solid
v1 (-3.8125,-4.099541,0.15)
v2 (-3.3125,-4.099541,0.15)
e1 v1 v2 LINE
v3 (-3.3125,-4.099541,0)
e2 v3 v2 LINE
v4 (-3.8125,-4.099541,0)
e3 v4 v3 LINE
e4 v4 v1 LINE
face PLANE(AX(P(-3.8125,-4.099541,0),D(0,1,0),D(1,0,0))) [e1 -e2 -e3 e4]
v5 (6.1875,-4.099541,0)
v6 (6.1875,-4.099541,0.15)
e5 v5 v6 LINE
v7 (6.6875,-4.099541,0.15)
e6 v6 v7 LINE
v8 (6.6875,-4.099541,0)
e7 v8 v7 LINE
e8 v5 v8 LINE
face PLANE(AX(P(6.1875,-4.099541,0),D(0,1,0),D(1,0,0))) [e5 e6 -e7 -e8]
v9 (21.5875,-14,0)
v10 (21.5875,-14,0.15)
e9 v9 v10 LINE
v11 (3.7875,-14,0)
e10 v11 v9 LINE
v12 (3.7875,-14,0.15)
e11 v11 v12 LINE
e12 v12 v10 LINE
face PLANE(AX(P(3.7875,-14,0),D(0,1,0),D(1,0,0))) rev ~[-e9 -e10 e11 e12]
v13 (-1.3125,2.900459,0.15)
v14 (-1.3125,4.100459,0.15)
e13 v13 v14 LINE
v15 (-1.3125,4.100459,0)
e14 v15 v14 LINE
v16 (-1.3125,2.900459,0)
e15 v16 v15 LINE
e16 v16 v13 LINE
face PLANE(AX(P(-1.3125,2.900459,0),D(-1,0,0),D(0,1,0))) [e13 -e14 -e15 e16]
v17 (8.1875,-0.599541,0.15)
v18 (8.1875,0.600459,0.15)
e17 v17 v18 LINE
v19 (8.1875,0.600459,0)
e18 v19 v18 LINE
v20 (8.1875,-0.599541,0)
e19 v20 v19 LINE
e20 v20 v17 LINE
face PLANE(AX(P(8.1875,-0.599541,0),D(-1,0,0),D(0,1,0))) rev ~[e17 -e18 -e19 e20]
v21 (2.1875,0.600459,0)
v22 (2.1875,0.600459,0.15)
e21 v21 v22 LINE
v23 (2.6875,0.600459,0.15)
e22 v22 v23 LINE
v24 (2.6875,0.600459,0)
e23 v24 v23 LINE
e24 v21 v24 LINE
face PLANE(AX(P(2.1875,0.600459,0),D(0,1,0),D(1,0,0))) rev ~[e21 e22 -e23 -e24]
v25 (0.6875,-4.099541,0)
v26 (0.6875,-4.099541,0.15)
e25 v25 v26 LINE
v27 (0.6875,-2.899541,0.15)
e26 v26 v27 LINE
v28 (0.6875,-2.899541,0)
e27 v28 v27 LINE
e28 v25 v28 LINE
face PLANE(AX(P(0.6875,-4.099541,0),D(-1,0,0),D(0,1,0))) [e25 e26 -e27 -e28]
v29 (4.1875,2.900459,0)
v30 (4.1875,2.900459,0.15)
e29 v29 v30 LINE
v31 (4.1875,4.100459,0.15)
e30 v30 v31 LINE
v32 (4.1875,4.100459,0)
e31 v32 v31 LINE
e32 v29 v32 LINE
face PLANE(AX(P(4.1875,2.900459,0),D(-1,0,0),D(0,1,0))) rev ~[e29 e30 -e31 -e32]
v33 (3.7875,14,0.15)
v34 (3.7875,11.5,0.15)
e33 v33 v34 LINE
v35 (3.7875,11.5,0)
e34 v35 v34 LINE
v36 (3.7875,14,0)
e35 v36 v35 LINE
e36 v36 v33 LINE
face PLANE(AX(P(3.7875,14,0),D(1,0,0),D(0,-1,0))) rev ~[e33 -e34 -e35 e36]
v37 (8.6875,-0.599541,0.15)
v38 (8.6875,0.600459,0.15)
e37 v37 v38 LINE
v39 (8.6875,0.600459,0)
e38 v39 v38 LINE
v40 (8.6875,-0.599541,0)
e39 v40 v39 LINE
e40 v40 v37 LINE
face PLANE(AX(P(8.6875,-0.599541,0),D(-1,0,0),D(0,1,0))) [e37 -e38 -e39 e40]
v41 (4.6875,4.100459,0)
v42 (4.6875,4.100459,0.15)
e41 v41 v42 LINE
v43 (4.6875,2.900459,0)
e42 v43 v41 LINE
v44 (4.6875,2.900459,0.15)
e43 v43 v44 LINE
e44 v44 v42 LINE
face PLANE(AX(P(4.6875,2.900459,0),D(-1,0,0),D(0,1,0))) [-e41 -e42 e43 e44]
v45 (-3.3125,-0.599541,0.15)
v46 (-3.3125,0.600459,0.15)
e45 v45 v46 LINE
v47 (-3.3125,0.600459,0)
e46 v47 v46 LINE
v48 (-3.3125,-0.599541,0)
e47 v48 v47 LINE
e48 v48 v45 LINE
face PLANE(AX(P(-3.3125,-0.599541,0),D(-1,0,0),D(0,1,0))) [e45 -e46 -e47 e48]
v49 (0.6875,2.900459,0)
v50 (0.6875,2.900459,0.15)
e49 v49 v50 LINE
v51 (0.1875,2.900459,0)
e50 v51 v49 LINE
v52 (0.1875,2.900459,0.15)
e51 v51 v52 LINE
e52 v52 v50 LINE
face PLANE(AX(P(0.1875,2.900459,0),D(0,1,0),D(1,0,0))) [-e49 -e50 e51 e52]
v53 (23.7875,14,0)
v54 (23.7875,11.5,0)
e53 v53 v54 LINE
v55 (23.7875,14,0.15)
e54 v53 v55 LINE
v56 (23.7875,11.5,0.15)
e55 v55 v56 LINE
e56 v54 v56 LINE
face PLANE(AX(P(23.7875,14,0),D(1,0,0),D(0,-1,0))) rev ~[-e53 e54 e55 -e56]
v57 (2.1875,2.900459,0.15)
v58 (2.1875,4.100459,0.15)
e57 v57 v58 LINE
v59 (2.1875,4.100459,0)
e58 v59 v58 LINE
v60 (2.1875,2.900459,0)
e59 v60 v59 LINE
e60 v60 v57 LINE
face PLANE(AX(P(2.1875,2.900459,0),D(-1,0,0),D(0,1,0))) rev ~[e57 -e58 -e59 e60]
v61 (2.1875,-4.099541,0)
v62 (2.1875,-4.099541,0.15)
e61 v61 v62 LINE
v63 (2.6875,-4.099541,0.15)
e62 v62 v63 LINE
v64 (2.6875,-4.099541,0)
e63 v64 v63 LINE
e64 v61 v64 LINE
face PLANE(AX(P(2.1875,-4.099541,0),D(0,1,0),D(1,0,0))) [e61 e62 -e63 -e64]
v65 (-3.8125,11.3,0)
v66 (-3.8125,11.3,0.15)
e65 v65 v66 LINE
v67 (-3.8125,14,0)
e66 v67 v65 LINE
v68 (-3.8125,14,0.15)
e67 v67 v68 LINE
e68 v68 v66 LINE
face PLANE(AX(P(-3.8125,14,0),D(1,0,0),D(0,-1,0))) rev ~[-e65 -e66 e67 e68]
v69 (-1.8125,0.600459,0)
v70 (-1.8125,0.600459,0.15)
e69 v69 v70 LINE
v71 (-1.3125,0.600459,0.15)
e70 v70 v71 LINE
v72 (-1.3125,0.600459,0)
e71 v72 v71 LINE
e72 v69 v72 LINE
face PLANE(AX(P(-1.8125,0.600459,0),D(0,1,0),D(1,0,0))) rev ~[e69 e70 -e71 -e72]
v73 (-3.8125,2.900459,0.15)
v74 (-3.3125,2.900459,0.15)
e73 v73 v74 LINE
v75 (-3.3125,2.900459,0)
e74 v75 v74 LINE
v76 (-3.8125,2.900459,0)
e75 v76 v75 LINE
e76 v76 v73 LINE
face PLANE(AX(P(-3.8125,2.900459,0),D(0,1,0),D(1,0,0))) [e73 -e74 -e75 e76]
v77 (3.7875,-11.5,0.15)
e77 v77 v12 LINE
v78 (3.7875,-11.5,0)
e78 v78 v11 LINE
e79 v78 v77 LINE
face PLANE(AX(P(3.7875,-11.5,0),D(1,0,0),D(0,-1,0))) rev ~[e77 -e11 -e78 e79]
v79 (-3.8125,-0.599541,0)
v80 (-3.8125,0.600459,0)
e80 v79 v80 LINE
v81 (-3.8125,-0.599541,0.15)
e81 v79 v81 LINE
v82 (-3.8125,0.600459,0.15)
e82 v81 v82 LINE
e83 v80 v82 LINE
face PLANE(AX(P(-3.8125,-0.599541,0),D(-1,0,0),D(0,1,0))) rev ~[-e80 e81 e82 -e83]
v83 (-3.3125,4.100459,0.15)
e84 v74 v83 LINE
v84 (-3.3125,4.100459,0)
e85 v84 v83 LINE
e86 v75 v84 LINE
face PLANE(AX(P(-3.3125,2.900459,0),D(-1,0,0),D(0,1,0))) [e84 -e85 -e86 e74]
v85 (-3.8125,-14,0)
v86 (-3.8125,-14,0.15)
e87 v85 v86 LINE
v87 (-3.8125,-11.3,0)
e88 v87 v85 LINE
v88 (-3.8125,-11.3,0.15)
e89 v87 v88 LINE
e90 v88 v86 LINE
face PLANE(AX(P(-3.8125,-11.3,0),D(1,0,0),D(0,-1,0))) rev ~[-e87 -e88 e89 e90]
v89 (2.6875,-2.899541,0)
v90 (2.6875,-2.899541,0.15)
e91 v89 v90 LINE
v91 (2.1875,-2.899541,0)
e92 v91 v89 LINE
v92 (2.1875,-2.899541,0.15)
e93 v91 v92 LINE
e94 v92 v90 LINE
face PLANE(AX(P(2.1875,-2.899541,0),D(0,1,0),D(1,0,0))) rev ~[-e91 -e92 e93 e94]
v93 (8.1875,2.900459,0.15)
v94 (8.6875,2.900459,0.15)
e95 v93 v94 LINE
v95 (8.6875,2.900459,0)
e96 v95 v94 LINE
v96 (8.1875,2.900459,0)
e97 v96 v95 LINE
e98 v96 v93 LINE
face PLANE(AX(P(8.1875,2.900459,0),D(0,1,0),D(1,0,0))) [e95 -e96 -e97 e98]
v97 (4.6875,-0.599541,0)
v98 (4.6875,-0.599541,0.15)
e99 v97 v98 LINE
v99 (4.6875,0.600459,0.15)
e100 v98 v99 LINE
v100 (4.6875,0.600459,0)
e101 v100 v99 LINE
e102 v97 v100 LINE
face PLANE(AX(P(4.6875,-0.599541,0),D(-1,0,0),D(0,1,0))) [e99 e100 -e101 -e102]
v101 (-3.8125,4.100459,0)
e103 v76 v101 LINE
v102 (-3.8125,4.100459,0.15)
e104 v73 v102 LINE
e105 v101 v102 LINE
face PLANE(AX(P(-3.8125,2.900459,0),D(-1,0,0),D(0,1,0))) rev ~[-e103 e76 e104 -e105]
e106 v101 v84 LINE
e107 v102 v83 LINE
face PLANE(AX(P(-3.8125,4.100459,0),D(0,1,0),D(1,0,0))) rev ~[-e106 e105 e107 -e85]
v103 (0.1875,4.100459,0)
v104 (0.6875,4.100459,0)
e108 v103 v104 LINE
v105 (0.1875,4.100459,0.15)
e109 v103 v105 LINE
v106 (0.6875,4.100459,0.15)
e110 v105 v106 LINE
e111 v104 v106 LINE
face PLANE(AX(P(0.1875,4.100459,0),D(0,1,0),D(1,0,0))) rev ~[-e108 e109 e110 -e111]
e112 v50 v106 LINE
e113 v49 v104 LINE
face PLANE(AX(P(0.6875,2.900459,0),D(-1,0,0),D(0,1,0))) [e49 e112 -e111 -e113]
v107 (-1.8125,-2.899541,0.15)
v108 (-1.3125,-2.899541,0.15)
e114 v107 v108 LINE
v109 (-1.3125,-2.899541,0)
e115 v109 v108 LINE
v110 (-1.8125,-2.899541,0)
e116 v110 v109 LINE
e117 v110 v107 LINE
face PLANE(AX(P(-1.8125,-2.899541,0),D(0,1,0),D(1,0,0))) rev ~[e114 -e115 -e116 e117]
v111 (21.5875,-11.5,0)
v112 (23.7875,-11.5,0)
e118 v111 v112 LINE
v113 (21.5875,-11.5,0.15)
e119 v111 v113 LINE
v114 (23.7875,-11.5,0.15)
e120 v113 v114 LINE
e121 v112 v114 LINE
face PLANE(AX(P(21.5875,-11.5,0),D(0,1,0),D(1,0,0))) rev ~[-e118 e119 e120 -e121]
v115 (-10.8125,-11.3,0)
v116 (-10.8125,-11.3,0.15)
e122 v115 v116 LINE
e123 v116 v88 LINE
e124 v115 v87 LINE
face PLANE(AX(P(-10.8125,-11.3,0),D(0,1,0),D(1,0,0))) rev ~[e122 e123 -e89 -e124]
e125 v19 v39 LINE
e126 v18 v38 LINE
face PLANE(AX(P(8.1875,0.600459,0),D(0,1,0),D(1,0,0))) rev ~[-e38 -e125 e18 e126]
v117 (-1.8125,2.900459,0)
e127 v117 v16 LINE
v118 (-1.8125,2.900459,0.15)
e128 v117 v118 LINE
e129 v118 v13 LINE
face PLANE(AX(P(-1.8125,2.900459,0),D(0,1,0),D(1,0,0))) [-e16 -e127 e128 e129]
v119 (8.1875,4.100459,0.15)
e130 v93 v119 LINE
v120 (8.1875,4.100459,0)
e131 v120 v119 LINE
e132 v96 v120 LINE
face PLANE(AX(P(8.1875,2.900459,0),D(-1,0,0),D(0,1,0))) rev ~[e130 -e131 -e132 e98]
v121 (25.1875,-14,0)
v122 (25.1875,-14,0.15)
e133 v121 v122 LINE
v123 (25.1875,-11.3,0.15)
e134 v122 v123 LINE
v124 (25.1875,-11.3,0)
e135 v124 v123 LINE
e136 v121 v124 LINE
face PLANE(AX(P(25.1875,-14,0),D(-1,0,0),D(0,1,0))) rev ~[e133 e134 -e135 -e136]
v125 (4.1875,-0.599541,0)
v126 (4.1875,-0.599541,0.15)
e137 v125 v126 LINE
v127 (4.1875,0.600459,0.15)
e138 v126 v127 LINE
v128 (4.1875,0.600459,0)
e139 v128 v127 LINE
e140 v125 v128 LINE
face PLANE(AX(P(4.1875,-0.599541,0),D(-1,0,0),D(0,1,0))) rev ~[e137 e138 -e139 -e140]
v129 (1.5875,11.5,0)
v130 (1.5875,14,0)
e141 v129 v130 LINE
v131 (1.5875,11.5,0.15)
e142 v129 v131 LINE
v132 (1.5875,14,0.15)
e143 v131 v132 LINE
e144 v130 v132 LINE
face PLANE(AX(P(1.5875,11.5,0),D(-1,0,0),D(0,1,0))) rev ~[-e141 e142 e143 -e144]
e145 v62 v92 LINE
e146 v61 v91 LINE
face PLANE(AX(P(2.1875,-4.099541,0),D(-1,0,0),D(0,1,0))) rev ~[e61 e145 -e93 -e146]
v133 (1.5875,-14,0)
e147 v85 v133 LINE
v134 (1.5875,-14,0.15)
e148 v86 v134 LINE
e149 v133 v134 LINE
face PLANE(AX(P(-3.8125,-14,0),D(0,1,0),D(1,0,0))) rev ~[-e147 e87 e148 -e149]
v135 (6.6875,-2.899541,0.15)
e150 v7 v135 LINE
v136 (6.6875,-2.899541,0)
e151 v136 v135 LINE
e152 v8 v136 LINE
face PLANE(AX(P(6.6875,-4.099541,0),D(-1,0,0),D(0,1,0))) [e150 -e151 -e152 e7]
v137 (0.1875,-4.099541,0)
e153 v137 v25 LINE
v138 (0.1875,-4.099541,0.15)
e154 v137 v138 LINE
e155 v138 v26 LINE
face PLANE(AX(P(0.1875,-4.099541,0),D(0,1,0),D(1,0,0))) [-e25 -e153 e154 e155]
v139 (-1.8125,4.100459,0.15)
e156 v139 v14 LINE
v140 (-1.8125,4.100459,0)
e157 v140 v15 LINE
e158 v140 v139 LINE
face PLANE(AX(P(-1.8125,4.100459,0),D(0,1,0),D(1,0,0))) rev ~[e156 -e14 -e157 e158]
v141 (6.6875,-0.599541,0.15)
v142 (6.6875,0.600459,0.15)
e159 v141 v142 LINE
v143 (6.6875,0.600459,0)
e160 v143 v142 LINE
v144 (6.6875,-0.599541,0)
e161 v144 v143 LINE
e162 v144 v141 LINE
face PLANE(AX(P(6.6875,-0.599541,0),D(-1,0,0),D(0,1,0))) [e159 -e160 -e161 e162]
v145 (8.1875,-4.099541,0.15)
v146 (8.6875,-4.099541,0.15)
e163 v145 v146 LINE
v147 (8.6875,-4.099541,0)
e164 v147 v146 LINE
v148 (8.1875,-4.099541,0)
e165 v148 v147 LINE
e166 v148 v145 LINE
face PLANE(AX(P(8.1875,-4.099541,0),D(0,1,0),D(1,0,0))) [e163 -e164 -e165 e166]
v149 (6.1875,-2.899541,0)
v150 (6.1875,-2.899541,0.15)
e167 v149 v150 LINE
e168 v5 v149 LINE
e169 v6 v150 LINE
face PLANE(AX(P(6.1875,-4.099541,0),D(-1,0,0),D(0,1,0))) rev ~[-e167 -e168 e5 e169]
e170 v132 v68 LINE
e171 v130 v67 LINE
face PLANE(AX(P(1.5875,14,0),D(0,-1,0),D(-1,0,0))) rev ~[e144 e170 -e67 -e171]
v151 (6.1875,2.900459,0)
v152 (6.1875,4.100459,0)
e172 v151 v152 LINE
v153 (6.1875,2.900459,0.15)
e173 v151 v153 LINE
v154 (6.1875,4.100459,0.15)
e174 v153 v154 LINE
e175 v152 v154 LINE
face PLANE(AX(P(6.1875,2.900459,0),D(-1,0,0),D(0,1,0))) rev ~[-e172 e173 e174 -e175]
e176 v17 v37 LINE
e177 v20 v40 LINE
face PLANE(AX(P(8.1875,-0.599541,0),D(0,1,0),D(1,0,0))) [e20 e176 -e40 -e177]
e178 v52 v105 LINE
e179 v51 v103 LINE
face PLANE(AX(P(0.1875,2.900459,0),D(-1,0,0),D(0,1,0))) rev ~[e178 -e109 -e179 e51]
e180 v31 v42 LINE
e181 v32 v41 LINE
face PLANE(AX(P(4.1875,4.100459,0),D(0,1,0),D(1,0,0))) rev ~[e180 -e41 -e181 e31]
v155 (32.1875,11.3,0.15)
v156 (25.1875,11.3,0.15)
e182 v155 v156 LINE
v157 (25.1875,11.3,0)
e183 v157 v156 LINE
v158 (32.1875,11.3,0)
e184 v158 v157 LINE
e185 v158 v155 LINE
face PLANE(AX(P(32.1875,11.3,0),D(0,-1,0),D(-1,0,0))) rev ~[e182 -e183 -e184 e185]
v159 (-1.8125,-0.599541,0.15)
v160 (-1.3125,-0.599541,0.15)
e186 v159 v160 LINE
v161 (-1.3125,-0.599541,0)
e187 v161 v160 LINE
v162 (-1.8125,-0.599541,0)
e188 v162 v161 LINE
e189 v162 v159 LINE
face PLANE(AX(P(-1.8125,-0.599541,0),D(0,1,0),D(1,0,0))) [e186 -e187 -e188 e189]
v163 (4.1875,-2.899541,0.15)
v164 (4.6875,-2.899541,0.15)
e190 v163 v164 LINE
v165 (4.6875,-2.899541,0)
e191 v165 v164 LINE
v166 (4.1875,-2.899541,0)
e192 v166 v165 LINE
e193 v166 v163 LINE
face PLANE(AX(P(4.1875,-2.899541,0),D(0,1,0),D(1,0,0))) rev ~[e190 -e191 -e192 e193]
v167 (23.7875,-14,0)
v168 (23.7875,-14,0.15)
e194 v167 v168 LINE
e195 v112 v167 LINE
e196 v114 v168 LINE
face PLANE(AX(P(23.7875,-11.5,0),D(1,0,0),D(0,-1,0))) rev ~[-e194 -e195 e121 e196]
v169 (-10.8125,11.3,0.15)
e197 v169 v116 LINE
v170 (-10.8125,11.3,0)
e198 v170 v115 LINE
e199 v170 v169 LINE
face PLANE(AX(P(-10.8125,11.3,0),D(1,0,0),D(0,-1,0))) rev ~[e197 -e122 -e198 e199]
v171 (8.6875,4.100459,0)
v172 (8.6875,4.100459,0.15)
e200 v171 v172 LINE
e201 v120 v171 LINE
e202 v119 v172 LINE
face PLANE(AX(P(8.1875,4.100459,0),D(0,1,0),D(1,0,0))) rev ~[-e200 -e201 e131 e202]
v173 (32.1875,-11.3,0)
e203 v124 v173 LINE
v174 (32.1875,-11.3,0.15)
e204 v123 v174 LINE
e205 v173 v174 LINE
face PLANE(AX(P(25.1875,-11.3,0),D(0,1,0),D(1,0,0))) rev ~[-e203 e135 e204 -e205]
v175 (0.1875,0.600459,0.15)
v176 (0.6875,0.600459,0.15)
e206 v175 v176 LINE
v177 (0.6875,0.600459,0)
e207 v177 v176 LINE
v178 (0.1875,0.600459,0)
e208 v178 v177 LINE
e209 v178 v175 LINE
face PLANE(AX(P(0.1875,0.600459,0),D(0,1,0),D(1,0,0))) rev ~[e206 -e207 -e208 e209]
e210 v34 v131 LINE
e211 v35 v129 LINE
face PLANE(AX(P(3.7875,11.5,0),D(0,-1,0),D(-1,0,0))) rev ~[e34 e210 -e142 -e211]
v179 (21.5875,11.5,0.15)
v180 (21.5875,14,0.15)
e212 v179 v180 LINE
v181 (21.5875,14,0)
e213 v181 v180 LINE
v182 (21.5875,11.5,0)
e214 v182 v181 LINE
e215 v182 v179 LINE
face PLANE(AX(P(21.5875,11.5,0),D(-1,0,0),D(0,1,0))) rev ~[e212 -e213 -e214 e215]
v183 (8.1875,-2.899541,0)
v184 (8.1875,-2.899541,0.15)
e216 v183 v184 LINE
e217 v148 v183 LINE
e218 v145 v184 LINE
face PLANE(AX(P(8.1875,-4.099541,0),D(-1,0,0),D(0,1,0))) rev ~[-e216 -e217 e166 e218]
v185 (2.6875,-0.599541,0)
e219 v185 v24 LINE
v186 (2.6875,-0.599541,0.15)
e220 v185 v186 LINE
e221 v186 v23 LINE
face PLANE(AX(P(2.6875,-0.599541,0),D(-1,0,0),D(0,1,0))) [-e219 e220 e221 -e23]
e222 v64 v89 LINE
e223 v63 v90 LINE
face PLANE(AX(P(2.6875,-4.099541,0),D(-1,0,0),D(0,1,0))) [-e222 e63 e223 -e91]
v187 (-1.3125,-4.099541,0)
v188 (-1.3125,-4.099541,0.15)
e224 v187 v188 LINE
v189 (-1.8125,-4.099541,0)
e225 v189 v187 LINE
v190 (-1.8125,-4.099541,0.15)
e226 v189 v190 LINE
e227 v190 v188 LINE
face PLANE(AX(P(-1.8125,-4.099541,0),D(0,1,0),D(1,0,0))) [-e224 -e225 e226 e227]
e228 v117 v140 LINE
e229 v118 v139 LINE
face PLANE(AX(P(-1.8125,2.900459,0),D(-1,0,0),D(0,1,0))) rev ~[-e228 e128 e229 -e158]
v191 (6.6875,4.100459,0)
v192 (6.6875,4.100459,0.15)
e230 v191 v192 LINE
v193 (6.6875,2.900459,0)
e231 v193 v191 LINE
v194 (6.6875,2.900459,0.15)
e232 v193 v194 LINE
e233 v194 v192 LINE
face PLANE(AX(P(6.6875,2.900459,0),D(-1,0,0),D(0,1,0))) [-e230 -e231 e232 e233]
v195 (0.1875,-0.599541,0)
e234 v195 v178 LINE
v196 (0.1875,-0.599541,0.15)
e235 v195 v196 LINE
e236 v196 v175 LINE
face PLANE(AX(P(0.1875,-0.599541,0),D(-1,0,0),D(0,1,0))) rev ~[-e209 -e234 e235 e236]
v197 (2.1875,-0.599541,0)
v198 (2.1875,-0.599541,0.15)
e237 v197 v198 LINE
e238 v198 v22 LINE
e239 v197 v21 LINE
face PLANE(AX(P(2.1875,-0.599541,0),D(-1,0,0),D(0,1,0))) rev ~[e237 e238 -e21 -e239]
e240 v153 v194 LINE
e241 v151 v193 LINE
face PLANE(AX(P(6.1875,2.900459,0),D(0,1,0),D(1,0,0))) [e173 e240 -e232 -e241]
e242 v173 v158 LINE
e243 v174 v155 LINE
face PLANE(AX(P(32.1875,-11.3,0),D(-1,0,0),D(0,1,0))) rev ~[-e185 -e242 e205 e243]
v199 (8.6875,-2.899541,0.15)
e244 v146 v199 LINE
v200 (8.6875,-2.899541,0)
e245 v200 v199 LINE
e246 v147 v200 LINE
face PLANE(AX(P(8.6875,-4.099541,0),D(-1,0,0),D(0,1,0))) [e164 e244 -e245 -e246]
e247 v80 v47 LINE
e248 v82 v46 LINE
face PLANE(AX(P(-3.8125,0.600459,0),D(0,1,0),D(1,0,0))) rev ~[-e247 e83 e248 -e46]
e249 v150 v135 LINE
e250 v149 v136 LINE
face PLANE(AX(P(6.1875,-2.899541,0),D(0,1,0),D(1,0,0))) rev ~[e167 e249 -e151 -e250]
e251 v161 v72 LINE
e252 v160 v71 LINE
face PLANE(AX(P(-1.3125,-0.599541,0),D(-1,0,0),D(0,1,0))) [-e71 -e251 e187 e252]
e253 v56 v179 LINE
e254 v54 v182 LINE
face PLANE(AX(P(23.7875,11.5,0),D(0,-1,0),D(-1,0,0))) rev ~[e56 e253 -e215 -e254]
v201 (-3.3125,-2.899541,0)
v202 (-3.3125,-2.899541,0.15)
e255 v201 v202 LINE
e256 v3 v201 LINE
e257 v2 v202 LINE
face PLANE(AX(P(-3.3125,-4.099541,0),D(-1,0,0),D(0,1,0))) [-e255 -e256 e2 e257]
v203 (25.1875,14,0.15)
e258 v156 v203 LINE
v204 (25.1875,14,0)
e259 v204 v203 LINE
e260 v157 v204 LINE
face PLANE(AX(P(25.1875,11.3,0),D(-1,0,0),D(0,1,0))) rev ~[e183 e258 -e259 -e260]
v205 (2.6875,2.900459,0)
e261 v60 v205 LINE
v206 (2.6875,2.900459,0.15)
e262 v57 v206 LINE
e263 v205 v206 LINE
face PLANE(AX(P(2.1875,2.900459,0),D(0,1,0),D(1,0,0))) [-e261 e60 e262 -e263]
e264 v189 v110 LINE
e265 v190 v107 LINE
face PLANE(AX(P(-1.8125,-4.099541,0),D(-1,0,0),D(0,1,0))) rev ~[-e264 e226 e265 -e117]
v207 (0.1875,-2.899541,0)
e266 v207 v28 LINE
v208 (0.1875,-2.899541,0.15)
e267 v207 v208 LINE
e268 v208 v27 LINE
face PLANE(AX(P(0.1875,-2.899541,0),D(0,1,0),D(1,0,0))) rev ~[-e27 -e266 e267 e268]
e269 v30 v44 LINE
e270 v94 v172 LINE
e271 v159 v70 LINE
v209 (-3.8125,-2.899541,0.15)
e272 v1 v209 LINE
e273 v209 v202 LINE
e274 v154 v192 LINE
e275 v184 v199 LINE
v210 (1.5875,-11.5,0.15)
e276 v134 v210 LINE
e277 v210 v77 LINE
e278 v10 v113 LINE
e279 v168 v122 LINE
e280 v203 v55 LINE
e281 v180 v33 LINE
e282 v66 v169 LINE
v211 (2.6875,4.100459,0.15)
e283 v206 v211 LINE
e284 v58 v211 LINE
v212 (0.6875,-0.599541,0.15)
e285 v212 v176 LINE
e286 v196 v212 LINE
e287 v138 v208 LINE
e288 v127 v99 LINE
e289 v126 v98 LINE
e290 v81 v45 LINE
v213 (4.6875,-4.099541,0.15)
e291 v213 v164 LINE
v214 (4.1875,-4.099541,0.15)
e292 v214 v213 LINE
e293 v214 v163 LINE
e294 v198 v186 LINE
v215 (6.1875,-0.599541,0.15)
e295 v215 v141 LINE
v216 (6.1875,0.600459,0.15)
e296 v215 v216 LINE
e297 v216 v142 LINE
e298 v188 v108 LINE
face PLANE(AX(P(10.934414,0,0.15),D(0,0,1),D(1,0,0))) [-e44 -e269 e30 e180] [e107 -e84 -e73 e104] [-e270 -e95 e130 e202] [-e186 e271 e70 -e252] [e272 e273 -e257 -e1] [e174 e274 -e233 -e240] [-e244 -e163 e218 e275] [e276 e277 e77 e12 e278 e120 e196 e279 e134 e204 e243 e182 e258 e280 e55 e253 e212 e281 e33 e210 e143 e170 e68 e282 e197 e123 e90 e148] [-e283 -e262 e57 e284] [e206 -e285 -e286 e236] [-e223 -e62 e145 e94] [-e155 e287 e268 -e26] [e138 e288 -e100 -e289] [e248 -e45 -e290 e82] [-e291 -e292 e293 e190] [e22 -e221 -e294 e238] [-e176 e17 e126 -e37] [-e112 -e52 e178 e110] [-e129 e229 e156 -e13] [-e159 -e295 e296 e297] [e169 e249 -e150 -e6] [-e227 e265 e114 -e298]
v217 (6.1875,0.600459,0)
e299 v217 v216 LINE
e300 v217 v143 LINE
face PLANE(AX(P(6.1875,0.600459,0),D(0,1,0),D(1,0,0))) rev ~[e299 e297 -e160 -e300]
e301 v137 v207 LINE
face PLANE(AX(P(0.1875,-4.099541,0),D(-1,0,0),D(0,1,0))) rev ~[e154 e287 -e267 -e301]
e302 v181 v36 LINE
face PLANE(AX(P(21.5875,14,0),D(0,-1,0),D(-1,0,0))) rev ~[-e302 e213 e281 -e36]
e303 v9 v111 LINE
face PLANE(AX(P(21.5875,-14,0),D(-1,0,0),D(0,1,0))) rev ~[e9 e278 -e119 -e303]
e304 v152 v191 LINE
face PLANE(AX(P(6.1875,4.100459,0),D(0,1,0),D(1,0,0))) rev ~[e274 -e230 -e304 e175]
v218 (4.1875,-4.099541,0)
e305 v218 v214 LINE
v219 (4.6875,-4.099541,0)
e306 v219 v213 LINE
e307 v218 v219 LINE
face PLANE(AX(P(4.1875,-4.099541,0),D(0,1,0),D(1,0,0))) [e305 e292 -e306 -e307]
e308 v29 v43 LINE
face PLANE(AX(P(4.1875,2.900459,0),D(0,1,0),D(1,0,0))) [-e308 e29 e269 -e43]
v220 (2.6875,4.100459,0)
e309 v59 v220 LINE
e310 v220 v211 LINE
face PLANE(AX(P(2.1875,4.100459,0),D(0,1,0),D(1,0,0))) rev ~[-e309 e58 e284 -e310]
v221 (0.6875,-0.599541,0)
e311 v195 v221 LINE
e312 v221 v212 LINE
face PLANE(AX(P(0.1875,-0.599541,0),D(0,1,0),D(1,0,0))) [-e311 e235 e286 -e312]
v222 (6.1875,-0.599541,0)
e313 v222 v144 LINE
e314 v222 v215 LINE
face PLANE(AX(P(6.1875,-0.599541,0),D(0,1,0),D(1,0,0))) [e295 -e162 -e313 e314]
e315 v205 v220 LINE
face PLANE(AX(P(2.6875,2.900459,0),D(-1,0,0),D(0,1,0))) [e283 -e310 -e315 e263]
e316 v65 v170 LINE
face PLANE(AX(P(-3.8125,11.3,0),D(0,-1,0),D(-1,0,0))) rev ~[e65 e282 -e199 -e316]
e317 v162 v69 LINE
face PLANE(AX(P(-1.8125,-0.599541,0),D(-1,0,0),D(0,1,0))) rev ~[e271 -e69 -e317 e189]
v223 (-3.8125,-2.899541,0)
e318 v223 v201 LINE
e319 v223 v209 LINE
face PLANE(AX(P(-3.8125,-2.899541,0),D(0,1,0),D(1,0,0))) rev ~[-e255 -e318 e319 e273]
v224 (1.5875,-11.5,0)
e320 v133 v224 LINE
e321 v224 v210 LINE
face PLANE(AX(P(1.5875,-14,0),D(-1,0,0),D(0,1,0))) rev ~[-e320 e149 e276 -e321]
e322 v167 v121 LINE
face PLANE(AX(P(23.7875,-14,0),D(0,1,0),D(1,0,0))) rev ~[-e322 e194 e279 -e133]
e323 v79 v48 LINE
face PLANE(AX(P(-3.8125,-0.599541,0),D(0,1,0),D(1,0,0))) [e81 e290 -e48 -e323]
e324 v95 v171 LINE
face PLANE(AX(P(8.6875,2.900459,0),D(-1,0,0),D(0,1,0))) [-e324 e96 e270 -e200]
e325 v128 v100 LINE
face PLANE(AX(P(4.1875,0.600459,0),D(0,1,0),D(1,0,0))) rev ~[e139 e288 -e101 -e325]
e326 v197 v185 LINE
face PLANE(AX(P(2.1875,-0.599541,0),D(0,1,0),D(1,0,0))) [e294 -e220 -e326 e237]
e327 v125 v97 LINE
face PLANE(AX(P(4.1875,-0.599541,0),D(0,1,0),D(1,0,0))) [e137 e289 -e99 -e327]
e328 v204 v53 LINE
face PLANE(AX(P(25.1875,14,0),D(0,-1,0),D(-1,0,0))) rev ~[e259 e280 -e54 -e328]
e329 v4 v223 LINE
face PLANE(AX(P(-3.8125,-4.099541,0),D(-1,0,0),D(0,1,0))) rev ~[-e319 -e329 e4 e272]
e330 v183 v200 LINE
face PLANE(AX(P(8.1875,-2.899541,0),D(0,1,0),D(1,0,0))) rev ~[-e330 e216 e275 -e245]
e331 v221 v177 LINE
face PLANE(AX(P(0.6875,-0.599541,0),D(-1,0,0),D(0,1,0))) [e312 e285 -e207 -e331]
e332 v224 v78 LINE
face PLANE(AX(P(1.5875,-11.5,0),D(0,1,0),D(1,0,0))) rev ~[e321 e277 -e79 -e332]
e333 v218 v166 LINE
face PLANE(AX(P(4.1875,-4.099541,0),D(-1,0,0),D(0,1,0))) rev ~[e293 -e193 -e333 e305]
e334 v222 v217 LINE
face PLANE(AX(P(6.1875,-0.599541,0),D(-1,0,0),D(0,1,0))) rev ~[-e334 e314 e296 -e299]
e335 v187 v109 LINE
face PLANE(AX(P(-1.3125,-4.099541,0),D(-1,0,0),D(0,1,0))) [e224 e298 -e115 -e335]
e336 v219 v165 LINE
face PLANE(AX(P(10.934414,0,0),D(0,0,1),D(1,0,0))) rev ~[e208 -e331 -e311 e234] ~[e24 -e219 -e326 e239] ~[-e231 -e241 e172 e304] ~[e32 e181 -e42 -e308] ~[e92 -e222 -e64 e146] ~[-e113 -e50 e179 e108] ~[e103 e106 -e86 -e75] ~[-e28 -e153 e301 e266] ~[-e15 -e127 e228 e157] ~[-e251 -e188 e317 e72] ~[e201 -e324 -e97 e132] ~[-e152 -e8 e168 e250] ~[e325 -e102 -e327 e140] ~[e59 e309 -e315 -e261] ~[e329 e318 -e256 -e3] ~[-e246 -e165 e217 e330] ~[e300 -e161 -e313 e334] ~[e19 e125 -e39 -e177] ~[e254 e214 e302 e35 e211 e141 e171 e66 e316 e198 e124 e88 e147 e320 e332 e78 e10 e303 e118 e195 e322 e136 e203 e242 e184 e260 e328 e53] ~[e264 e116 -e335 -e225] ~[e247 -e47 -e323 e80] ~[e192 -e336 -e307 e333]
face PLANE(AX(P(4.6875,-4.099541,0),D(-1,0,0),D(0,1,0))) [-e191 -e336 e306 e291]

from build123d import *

# Parameters (mm, degrees)
F0_W     = 0.5
F0_H     = 1.2
F1_DEPTH = 0.15


with BuildPart() as f1:
    # F0 (on Top) → F1 (new body)
    with BuildSketch(Plane.XY):
        Polygon((25.1875, -11.3), (32.1875, -11.3), (32.1875, 11.3), (25.1875, 11.3), (25.1875, 14), (23.7875, 14), (23.7875, 11.5), (21.5875, 11.5), (21.5875, 14), (3.7875, 14), (3.7875, 11.5), (1.5875, 11.5), (1.5875, 14), (-3.8125, 14), (-3.8125, 11.3), (-10.8125, 11.3), (-10.8125, -11.3), (-3.8125, -11.3), (-3.8125, -14), (1.5875, -14), (1.5875, -11.5), (3.7875, -11.5), (3.7875, -14), (21.5875, -14), (21.5875, -11.5), (23.7875, -11.5), (23.7875, -14), (25.1875, -14), align=None)
        with Locations((-3.5625, -3.499541)):
            Rectangle(F0_W, F0_H, mode=Mode.SUBTRACT)
        with Locations((-1.5625, -3.499541)):
            Rectangle(F0_W, F0_H, mode=Mode.SUBTRACT)
        with Locations((0.4375, -3.499541)):
            Rectangle(F0_W, F0_H, mode=Mode.SUBTRACT)
        with Locations((2.4375, -3.499541)):
            Rectangle(F0_W, F0_H, mode=Mode.SUBTRACT)
        with Locations((4.4375, -3.499541)):
            Rectangle(F0_W, F0_H, mode=Mode.SUBTRACT)
        with Locations((6.4375, -3.499541)):
            Rectangle(F0_W, F0_H, mode=Mode.SUBTRACT)
        with Locations((8.4375, -3.499541)):
            Rectangle(F0_W, F0_H, mode=Mode.SUBTRACT)
        with Locations((-3.5625, 0.000459)):
            Rectangle(F0_W, F0_H, mode=Mode.SUBTRACT)
        with Locations((-1.5625, 0.000459)):
            Rectangle(F0_W, F0_H, mode=Mode.SUBTRACT)
        with Locations((-3.5625, 3.500459)):
            Rectangle(F0_W, F0_H, mode=Mode.SUBTRACT)
        with Locations((-1.5625, 3.500459)):
            Rectangle(F0_W, F0_H, mode=Mode.SUBTRACT)
        with Locations((0.4375, 0.000459)):
            Rectangle(F0_W, F0_H, mode=Mode.SUBTRACT)
        with Locations((2.4375, 0.000459)):
            Rectangle(F0_W, F0_H, mode=Mode.SUBTRACT)
        with Locations((4.4375, 0.000459)):
            Rectangle(F0_W, F0_H, mode=Mode.SUBTRACT)
        with Locations((6.4375, 0.000459)):
            Rectangle(F0_W, F0_H, mode=Mode.SUBTRACT)
        with Locations((8.4375, 0.000459)):
            Rectangle(F0_W, F0_H, mode=Mode.SUBTRACT)
        with Locations((0.4375, 3.500459)):
            Rectangle(F0_W, F0_H, mode=Mode.SUBTRACT)
        with Locations((2.4375, 3.500459)):
            Rectangle(F0_W, F0_H, mode=Mode.SUBTRACT)
        with Locations((4.4375, 3.500459)):
            Rectangle(F0_W, F0_H, mode=Mode.SUBTRACT)
        with Locations((6.4375, 3.500459)):
            Rectangle(F0_W, F0_H, mode=Mode.SUBTRACT)
        with Locations((8.4375, 3.500459)):
            Rectangle(F0_W, F0_H, mode=Mode.SUBTRACT)
    extrude(amount=F1_DEPTH)


solid = f1.part
